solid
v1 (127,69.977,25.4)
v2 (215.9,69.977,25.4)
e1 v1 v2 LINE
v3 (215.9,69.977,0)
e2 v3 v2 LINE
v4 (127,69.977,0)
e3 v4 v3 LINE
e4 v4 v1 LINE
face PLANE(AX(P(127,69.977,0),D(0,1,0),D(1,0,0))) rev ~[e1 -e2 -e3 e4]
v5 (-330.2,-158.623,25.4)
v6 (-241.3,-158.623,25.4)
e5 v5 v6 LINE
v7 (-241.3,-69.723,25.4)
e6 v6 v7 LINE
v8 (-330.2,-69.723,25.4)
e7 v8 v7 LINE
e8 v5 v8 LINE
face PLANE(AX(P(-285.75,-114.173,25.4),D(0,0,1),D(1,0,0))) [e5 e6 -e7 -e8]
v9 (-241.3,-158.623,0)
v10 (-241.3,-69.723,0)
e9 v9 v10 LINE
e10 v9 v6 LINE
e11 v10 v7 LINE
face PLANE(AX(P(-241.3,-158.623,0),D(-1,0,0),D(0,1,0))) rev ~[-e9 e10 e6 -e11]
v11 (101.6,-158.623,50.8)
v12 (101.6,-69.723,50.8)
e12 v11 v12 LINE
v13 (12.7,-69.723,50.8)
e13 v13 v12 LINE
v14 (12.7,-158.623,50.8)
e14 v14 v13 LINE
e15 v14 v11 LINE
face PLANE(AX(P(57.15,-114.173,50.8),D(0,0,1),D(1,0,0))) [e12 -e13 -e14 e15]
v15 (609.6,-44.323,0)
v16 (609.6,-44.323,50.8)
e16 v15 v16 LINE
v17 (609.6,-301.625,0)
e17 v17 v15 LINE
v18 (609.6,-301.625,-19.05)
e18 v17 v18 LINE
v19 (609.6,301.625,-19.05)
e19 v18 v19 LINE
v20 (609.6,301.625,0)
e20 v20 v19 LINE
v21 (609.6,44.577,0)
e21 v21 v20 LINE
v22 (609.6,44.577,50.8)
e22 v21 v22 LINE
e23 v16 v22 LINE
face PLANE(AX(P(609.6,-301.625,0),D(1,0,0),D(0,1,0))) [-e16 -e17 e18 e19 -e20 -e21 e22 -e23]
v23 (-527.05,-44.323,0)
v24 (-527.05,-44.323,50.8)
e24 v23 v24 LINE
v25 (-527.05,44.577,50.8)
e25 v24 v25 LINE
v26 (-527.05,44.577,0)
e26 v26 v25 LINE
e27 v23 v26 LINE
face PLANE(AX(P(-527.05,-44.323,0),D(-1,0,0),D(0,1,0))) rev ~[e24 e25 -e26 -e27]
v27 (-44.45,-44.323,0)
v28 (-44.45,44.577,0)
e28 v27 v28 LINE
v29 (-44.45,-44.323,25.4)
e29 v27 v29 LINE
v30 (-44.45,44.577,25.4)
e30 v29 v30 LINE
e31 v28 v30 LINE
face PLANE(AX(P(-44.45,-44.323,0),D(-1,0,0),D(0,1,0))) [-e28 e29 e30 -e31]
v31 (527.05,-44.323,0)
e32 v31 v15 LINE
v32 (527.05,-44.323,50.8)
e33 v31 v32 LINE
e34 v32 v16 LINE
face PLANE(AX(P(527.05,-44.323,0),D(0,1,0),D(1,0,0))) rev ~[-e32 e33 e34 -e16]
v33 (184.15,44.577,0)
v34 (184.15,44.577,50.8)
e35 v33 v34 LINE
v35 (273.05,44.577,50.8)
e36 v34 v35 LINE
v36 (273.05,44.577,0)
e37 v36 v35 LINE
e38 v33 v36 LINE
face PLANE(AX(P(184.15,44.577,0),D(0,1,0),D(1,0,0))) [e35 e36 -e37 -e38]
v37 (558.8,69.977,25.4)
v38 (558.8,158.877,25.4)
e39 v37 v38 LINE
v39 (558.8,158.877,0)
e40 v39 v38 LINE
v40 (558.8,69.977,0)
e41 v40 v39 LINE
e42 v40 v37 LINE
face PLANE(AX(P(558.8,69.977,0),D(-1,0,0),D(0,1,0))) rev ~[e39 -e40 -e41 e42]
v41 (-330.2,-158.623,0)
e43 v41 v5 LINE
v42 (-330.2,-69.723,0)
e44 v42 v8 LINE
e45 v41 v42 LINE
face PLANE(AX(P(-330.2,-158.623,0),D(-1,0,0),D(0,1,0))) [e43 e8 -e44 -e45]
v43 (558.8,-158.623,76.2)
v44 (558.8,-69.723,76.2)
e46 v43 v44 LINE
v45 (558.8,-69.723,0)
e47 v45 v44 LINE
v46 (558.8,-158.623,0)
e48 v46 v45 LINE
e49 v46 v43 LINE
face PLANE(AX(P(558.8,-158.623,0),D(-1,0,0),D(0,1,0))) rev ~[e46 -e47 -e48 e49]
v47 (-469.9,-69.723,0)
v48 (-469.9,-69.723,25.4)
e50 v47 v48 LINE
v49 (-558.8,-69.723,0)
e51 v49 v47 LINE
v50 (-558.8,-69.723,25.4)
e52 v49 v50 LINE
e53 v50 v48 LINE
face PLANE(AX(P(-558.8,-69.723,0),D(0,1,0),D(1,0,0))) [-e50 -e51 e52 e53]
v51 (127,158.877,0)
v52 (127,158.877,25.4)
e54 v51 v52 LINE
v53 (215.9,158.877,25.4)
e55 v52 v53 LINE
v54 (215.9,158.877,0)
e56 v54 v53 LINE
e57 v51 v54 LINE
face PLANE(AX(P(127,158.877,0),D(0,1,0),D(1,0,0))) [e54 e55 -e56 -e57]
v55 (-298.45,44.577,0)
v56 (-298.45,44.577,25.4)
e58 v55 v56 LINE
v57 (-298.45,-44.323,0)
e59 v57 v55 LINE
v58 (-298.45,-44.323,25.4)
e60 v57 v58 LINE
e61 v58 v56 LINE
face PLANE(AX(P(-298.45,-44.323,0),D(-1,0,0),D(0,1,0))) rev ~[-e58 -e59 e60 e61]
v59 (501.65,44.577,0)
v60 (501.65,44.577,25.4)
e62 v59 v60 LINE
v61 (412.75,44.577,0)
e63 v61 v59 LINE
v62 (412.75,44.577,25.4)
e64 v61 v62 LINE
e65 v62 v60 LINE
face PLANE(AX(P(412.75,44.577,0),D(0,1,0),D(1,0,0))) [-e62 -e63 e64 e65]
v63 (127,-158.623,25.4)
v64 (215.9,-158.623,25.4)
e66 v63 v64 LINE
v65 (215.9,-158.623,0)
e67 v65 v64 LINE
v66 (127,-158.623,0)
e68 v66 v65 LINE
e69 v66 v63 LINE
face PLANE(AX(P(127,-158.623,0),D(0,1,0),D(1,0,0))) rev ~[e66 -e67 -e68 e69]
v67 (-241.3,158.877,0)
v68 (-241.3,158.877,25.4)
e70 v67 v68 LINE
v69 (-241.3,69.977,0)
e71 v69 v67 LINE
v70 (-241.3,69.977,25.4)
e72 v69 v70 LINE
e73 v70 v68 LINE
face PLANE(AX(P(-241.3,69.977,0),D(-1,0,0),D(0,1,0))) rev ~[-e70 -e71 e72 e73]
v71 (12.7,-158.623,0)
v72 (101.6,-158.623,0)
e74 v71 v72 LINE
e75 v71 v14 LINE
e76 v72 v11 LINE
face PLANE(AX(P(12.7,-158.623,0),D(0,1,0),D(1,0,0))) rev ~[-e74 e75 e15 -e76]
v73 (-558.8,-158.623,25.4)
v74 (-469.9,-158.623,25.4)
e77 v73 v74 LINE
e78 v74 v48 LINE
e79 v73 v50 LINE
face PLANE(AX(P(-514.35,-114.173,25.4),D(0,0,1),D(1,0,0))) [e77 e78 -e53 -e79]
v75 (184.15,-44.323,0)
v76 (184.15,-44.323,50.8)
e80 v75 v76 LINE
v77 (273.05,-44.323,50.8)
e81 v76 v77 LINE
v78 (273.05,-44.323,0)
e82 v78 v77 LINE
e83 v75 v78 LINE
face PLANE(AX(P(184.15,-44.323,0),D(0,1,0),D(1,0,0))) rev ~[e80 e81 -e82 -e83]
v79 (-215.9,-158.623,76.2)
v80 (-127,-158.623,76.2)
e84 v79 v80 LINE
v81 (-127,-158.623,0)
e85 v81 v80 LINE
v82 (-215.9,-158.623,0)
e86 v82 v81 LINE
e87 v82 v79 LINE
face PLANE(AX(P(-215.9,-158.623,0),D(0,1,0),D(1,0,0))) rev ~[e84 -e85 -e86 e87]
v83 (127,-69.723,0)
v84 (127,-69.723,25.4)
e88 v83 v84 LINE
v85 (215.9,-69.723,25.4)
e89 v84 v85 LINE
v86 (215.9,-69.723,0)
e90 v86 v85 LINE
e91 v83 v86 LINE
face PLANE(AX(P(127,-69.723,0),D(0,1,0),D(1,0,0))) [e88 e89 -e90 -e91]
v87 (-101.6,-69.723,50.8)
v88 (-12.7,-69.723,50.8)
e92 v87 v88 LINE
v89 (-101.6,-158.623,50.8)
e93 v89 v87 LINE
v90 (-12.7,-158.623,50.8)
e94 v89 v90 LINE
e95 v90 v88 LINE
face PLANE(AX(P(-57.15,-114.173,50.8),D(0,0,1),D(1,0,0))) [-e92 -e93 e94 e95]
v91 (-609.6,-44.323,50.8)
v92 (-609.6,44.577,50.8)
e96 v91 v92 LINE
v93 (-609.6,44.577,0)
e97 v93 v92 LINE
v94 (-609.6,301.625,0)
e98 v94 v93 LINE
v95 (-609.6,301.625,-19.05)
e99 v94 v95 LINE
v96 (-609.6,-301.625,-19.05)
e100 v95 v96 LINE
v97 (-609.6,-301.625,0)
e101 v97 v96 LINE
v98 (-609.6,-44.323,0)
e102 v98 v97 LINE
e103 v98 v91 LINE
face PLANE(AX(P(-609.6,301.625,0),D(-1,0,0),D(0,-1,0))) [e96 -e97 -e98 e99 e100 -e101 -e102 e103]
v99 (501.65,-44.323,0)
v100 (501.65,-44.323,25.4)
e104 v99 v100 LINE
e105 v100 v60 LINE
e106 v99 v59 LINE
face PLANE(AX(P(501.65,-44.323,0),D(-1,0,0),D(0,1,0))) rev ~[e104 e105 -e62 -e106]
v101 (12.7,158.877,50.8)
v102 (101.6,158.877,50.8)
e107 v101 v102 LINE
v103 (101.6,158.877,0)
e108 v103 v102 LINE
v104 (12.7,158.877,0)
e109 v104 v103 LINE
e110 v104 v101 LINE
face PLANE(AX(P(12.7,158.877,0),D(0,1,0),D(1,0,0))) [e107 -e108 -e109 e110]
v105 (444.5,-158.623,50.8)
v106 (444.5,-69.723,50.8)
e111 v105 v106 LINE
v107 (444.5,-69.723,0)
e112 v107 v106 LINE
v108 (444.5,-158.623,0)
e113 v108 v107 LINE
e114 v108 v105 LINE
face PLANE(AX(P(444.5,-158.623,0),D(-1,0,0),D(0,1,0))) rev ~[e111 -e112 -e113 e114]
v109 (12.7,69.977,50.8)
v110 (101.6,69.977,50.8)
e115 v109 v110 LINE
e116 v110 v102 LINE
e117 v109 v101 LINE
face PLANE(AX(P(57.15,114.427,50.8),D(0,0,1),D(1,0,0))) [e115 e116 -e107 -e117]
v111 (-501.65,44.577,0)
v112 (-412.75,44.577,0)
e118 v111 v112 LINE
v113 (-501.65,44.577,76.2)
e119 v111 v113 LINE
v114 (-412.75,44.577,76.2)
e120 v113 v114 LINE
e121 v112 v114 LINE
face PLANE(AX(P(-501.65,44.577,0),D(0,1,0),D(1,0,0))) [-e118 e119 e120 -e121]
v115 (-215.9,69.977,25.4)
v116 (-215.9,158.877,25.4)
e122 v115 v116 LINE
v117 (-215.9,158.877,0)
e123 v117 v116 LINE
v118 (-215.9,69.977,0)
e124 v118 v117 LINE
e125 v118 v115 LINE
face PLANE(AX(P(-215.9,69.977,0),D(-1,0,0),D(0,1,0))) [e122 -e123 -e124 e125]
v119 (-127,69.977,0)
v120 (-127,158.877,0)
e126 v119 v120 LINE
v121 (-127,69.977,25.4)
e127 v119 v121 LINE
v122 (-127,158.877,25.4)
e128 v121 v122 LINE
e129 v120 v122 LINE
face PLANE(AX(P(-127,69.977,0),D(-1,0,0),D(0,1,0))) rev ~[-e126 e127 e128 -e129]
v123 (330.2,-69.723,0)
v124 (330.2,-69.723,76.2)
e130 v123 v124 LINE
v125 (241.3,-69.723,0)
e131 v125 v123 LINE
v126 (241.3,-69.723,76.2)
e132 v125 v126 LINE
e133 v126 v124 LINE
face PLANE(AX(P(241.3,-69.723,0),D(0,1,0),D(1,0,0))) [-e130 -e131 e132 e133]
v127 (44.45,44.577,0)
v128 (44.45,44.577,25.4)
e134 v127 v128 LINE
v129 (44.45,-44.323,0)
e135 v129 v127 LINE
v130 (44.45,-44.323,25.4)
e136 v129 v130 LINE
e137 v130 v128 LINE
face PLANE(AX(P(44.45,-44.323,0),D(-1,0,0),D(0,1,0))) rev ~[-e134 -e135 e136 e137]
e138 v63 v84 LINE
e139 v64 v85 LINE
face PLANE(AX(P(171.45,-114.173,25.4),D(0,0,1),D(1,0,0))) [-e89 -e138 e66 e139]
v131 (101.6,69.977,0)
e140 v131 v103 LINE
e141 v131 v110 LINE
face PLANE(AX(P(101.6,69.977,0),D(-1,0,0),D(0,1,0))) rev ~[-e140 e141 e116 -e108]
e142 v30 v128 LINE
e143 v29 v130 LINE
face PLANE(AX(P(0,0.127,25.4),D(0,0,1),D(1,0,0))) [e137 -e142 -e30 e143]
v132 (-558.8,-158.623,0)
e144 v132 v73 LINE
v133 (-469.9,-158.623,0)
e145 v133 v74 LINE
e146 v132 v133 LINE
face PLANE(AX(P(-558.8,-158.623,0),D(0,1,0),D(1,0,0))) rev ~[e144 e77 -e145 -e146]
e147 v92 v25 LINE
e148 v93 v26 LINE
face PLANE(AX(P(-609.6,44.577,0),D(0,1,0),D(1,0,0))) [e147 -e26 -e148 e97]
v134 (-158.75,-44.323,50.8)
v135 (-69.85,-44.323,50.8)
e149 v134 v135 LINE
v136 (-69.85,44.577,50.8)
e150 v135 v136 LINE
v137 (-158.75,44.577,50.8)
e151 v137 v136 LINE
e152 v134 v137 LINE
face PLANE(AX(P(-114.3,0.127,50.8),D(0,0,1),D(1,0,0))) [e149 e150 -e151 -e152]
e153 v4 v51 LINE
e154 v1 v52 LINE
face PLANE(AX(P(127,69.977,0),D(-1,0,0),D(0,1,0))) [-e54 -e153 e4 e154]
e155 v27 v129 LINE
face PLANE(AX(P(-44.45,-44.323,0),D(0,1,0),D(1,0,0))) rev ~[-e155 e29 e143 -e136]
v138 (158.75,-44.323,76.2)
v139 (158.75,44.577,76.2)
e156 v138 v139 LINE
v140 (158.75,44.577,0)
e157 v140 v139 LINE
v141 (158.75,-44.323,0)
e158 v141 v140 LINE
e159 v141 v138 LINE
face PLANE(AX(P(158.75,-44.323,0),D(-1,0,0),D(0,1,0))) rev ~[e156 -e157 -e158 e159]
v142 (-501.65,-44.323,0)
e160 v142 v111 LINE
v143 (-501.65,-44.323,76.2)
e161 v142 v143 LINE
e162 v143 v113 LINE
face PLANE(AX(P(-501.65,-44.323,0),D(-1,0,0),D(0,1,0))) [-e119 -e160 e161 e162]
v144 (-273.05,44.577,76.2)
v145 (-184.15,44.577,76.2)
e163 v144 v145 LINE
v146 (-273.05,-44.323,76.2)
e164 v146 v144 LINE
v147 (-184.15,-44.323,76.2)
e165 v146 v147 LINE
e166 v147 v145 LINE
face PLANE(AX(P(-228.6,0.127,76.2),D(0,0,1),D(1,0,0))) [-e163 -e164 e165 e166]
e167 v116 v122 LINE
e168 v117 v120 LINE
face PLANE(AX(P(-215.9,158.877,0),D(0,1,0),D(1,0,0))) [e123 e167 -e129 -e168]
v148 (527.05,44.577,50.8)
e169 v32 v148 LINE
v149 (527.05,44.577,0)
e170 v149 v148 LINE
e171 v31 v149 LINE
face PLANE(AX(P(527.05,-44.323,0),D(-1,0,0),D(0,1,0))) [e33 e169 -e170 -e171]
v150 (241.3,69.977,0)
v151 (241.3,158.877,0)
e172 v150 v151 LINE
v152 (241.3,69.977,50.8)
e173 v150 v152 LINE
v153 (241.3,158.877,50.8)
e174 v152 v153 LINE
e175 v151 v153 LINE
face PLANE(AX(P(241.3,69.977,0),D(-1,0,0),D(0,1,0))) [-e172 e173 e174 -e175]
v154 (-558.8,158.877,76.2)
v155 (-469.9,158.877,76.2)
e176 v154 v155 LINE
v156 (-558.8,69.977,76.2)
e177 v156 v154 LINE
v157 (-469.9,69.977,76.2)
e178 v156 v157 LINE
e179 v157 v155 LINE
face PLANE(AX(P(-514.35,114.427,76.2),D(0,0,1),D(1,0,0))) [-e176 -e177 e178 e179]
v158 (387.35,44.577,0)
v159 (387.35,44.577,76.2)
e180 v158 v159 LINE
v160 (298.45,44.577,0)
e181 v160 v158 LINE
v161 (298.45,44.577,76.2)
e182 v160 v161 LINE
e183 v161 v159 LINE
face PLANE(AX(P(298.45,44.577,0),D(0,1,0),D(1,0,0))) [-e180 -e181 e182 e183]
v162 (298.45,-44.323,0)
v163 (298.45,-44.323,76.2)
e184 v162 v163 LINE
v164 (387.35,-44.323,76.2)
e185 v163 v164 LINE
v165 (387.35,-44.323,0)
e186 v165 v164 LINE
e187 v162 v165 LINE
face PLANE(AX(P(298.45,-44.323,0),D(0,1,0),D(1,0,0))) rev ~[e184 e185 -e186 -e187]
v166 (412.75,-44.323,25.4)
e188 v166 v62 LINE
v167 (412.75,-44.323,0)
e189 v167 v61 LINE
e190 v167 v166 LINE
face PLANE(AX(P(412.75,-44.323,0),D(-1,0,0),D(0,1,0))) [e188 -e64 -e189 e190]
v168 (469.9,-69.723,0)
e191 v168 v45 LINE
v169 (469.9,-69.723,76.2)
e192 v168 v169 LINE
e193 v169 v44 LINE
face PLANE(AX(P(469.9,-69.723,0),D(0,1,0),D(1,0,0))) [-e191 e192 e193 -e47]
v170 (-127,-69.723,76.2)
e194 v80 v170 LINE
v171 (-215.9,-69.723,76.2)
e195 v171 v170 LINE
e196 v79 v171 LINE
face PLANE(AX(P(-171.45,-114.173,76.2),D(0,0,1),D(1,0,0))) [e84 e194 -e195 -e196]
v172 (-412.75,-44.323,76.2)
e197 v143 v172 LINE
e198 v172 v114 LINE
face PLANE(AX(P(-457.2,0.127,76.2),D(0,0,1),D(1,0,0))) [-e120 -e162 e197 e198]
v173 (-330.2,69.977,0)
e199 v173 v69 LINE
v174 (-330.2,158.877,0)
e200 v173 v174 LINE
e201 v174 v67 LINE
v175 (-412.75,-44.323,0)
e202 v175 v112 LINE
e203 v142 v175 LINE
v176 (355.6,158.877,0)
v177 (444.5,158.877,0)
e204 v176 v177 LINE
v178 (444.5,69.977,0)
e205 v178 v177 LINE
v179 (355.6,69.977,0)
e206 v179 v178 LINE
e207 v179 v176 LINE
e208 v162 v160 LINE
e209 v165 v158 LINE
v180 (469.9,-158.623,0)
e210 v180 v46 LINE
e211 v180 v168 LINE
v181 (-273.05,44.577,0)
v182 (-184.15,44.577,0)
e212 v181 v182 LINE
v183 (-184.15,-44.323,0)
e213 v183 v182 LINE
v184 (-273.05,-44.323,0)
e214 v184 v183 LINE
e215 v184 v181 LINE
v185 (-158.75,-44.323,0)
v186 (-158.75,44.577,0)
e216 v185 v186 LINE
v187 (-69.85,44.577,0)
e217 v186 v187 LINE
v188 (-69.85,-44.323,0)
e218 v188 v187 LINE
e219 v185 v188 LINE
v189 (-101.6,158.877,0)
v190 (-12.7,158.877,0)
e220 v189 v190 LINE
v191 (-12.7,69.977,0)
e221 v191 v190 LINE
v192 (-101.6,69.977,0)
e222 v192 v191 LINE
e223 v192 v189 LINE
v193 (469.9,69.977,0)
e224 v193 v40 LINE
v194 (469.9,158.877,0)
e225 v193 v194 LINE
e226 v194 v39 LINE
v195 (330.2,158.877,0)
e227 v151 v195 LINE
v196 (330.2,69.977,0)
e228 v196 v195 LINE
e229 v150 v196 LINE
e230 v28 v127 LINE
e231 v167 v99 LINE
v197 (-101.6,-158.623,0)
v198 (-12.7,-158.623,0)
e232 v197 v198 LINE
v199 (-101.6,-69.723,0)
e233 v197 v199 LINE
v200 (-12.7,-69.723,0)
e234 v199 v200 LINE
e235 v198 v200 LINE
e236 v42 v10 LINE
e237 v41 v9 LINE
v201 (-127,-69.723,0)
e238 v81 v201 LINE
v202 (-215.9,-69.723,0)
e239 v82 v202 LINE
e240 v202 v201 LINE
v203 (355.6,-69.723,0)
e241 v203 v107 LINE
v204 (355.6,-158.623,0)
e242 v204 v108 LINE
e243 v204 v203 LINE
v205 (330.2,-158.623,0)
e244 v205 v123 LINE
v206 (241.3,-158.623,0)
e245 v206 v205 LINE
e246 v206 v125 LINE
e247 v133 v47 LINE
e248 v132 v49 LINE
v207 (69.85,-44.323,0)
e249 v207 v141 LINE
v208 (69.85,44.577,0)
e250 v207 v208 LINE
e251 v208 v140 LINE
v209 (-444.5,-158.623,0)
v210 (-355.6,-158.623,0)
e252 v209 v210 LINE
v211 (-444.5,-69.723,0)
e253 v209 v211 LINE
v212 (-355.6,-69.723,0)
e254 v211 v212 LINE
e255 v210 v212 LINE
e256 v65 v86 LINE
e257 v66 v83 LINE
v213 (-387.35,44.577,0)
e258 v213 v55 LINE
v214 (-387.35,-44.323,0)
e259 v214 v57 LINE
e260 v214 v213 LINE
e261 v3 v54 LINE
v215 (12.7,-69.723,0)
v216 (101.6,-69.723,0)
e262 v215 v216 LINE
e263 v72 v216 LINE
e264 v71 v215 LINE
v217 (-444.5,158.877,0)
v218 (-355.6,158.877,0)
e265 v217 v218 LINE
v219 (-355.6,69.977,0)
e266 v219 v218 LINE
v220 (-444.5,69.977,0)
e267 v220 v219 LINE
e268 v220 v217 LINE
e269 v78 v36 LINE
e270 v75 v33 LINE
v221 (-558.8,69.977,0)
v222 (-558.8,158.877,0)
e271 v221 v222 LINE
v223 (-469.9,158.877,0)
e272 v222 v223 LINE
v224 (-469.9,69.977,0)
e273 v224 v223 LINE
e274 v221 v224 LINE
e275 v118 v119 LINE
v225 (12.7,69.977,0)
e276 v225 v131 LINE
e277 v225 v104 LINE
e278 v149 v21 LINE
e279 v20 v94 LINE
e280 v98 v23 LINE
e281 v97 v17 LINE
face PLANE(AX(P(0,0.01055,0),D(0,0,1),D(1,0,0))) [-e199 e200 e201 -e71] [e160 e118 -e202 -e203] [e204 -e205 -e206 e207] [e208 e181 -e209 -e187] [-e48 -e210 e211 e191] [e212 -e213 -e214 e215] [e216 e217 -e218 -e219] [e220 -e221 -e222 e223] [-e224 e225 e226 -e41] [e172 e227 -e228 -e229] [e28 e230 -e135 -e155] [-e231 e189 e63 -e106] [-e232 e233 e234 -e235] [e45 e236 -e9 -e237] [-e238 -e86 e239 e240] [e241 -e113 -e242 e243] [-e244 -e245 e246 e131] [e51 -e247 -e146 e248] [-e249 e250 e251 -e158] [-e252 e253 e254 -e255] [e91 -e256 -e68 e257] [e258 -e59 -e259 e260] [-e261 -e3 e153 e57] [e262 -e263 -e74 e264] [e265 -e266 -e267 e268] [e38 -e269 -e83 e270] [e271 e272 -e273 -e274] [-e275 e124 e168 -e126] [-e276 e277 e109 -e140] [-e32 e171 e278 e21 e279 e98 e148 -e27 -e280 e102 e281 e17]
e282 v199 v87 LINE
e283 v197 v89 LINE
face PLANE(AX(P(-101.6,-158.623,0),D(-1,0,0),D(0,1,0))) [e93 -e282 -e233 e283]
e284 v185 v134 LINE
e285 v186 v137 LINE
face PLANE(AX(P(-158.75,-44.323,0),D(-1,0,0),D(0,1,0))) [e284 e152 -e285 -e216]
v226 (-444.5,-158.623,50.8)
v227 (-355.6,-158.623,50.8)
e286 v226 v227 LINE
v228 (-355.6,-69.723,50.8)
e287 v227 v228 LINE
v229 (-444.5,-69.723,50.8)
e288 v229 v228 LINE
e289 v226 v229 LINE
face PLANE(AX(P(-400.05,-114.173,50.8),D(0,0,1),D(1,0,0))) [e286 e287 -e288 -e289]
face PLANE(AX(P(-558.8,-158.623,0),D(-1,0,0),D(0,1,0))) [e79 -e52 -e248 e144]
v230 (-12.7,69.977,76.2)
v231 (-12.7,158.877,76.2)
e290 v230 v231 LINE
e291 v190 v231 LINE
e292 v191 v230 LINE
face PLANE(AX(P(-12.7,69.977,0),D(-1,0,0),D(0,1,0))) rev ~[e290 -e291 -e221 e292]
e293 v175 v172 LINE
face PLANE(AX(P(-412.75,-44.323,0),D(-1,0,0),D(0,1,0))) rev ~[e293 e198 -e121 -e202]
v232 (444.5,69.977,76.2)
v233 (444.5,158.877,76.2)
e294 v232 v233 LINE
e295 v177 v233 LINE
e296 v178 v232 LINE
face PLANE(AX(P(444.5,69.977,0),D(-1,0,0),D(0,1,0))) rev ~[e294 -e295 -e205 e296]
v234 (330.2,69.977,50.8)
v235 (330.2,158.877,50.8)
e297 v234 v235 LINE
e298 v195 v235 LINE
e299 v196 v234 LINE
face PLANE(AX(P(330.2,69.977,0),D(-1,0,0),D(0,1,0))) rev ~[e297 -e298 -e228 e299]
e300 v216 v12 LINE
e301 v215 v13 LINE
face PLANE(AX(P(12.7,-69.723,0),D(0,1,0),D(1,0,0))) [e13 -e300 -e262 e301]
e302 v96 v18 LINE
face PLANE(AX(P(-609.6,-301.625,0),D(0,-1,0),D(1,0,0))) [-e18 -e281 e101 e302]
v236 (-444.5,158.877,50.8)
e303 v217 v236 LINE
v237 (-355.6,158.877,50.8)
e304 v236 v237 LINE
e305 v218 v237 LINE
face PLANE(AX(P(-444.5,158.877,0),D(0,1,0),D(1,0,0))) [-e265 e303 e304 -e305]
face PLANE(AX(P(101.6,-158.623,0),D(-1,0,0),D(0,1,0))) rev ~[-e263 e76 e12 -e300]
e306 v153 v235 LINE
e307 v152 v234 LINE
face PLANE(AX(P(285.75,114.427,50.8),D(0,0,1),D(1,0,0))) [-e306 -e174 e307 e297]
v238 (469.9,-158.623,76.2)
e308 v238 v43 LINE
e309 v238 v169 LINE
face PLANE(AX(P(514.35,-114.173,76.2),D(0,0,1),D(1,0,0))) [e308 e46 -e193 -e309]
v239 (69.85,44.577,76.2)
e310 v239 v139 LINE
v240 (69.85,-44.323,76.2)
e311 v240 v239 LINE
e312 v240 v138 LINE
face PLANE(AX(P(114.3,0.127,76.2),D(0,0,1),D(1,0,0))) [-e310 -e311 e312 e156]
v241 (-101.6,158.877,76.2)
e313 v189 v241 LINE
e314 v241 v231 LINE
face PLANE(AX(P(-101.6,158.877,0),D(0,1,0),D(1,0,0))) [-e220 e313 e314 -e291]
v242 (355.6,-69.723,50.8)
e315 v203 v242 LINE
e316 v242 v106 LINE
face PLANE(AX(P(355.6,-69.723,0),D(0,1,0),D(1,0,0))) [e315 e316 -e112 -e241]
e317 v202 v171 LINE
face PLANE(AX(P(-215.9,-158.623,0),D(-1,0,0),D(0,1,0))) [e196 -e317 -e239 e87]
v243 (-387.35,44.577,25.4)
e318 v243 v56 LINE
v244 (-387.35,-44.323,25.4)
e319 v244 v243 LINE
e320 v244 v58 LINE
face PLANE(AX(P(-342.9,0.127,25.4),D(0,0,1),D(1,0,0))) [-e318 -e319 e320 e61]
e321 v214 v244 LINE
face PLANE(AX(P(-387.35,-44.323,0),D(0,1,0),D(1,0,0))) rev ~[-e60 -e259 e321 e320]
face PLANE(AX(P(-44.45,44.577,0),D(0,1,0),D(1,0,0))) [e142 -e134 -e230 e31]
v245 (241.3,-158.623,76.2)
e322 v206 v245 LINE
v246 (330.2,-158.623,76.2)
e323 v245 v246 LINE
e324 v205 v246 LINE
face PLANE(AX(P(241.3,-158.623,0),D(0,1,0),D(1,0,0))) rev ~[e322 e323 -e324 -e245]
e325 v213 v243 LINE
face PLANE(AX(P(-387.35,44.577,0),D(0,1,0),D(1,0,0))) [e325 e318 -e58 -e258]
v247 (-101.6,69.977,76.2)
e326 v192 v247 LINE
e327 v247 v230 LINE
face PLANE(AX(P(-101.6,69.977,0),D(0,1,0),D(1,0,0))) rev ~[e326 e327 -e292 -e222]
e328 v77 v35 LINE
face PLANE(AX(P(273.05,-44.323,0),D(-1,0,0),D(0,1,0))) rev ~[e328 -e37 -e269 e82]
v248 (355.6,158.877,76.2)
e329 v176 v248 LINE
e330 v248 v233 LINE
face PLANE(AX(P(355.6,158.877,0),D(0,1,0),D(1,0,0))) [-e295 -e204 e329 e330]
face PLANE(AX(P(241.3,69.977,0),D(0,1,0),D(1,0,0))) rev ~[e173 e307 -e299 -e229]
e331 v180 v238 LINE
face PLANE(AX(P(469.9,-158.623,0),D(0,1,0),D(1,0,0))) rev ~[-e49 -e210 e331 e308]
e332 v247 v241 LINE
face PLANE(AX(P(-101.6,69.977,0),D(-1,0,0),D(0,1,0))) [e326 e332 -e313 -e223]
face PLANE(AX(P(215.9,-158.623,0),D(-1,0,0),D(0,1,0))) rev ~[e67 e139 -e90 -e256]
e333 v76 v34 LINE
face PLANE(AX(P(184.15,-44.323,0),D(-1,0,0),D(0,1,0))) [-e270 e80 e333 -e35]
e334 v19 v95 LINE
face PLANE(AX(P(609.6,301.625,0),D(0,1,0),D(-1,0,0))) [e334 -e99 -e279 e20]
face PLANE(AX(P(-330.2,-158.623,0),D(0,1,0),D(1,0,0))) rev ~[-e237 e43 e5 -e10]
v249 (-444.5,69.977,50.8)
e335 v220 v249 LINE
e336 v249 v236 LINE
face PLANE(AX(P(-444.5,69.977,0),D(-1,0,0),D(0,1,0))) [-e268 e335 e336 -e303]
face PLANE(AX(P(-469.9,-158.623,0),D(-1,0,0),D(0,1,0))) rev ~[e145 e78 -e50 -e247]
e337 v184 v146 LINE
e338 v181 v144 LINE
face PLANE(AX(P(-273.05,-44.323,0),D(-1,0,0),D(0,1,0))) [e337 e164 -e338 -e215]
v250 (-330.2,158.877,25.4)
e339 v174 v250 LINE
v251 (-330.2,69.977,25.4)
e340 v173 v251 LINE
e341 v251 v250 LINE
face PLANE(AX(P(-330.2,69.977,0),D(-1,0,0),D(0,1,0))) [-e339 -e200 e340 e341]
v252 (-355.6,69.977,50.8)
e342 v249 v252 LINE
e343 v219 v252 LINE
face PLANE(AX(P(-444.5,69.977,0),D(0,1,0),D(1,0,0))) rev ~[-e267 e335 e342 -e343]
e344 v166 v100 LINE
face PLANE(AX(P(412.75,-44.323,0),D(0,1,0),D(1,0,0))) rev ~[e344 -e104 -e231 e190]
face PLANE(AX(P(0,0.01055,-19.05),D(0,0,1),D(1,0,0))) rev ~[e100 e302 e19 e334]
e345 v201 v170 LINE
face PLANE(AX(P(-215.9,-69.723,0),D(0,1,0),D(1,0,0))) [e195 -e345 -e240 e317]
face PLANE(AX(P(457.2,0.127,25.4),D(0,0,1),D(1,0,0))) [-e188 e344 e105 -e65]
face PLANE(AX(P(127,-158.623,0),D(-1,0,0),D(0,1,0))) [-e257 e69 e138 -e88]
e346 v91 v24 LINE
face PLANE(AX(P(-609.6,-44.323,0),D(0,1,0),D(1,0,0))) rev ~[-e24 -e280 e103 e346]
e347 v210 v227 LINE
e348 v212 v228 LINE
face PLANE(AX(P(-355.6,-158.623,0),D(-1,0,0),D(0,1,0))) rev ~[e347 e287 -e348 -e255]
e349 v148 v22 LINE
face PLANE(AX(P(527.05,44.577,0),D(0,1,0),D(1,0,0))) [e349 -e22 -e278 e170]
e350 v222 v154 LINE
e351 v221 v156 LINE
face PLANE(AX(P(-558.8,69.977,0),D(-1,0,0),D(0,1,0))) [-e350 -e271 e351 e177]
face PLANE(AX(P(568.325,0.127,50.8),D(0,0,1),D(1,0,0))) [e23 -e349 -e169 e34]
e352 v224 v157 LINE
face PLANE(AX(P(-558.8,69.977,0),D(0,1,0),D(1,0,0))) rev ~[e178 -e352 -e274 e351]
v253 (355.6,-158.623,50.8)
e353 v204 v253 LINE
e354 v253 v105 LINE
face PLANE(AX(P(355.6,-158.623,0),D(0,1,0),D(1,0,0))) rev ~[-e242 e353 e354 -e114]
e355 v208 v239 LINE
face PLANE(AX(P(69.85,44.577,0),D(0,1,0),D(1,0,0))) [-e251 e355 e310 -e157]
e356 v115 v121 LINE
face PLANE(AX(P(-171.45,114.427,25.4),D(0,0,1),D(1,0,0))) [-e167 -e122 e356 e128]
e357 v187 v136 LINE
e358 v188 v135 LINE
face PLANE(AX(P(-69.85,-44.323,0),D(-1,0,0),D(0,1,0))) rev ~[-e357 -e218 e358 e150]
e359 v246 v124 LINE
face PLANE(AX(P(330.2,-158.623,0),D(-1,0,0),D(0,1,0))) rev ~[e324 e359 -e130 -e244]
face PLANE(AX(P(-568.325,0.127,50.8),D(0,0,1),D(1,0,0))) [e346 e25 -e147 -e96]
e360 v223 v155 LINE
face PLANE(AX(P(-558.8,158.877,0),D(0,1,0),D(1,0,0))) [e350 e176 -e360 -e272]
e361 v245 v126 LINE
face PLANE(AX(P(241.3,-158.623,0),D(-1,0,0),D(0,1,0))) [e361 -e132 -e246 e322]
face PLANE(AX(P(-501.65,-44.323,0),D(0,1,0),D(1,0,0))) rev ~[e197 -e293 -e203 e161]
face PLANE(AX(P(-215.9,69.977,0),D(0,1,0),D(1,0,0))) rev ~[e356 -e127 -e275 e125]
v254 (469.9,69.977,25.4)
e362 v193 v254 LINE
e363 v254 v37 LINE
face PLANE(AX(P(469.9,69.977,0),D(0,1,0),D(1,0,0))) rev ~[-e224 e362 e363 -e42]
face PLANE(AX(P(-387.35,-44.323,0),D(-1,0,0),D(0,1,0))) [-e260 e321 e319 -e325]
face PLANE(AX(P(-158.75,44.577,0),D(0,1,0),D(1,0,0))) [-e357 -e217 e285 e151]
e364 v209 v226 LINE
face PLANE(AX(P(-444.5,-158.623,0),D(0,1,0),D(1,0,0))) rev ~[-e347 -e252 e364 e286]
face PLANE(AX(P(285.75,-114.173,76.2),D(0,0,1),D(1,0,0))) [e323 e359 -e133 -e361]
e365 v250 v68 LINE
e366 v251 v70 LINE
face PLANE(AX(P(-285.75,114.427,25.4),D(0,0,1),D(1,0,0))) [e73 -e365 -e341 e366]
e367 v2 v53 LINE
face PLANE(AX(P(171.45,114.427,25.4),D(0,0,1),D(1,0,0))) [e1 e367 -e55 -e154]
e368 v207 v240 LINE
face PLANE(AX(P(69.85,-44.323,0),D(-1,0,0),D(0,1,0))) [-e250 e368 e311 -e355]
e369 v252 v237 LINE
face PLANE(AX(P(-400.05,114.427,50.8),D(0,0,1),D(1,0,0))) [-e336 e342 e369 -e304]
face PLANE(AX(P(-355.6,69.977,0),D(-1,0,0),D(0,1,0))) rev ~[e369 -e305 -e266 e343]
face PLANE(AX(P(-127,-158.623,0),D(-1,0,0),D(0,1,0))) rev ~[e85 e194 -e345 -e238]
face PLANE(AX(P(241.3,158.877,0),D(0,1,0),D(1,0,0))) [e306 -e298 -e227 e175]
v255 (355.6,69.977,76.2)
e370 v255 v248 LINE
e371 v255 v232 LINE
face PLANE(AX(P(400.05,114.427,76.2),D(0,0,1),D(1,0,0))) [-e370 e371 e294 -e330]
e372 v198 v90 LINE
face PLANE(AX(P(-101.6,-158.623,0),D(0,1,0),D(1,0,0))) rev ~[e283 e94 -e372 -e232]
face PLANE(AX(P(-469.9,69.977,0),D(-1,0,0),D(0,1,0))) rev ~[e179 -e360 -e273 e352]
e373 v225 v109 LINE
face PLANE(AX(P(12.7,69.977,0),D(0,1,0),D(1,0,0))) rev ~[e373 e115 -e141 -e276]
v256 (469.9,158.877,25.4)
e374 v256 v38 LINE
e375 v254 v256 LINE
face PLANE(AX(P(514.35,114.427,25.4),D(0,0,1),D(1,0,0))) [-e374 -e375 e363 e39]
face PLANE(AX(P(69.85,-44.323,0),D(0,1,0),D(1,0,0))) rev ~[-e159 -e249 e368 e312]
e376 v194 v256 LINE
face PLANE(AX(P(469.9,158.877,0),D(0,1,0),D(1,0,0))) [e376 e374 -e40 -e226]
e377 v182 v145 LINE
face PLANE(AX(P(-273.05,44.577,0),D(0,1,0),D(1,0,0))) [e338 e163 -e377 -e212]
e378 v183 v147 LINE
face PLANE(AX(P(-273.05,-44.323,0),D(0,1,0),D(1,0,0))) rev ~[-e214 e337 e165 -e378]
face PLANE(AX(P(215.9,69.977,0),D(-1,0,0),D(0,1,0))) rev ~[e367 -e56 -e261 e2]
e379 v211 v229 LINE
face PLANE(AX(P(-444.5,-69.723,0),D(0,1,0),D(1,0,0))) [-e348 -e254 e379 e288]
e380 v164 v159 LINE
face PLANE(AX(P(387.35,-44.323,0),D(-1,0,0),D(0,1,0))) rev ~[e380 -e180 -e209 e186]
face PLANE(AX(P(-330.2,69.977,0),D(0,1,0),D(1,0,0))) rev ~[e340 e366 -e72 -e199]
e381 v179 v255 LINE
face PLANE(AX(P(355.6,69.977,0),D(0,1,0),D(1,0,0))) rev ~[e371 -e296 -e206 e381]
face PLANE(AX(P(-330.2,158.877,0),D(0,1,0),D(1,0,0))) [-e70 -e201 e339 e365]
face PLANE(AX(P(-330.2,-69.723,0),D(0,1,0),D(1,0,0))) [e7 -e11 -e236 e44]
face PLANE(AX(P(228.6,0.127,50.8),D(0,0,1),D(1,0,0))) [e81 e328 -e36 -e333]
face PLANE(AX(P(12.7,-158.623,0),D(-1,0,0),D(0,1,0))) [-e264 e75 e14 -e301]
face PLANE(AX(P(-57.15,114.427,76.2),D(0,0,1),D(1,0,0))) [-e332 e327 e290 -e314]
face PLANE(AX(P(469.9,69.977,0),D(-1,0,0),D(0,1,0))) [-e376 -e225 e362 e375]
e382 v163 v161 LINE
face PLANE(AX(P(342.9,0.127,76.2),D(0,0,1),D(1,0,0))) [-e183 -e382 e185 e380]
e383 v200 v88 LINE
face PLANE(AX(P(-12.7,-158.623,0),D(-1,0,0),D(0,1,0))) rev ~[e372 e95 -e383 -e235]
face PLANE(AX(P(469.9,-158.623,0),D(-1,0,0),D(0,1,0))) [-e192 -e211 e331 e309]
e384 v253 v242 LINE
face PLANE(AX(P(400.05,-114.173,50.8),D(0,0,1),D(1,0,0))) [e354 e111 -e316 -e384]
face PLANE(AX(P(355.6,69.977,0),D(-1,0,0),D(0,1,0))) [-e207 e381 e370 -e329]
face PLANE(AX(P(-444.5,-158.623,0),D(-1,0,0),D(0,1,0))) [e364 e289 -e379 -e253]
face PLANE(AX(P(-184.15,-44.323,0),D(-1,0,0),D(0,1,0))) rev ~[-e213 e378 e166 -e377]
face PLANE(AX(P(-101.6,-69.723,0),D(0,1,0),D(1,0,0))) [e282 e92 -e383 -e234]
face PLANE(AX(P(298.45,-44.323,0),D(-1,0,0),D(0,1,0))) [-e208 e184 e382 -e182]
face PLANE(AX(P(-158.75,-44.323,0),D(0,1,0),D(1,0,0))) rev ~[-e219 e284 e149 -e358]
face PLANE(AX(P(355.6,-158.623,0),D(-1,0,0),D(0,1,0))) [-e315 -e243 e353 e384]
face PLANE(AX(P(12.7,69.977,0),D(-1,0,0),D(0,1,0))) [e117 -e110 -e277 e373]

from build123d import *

# Parameters (mm, degrees)
F0_W     = 88.9
F0_H     = 88.9
F0_W_2   = 82.55
F1_DEPTH = 19.05
F2_DEPTH = 25.4
F3_DEPTH = 76.2
F4_DEPTH = 50.8


with BuildPart() as f1:
    # F0 (on Top) → F1 (new body)
    with BuildSketch(Plane.XY):
        Polygon((609.6, 301.625), (-609.6, 301.625), (-609.6, 44.577), (-527.05, 44.577), (-527.05, -44.323), (-609.6, -44.323), (-609.6, -301.625), (609.6, -301.625), (609.6, -44.323), (527.05, -44.323), (527.05, 44.577), (609.6, 44.577), align=None)
        with Locations((-514.35, -114.173)):
            Rectangle(F0_W, F0_H, mode=Mode.SUBTRACT)
        with Locations((-400.05, -114.173)):
            Rectangle(F0_W, F0_H, mode=Mode.SUBTRACT)
        with Locations((-285.75, -114.173)):
            Rectangle(F0_W, F0_H, mode=Mode.SUBTRACT)
        with Locations((-171.45, -114.173)):
            Rectangle(F0_W, F0_H, mode=Mode.SUBTRACT)
        with Locations((-57.15, -114.173)):
            Rectangle(F0_W, F0_H, mode=Mode.SUBTRACT)
        with Locations((57.15, -114.173)):
            Rectangle(F0_W, F0_H, mode=Mode.SUBTRACT)
        with Locations((171.45, -114.173)):
            Rectangle(F0_W, F0_H, mode=Mode.SUBTRACT)
        with Locations((285.75, -114.173)):
            Rectangle(F0_W, F0_H, mode=Mode.SUBTRACT)
        with Locations((400.05, -114.173)):
            Rectangle(F0_W, F0_H, mode=Mode.SUBTRACT)
        with Locations((514.35, -114.173)):
            Rectangle(F0_W, F0_H, mode=Mode.SUBTRACT)
        with Locations((-457.2, 0.127)):
            Rectangle(F0_W, F0_H, mode=Mode.SUBTRACT)
        with Locations((-342.9, 0.127)):
            Rectangle(F0_W, F0_H, mode=Mode.SUBTRACT)
        with Locations((-514.35, 114.427)):
            Rectangle(F0_W, F0_H, mode=Mode.SUBTRACT)
        with Locations((-400.05, 114.427)):
            Rectangle(F0_W, F0_H, mode=Mode.SUBTRACT)
        with Locations((-228.6, 0.127)):
            Rectangle(F0_W, F0_H, mode=Mode.SUBTRACT)
        with Locations((-114.3, 0.127)):
            Rectangle(F0_W, F0_H, mode=Mode.SUBTRACT)
        with Locations((-285.75, 114.427)):
            Rectangle(F0_W, F0_H, mode=Mode.SUBTRACT)
        with Locations((-171.45, 114.427)):
            Rectangle(F0_W, F0_H, mode=Mode.SUBTRACT)
        with Locations((-57.15, 114.427)):
            Rectangle(F0_W, F0_H, mode=Mode.SUBTRACT)
        with Locations((0, 0.127)):
            Rectangle(F0_W, F0_H, mode=Mode.SUBTRACT)
        with Locations((114.3, 0.127)):
            Rectangle(F0_W, F0_H, mode=Mode.SUBTRACT)
        with Locations((228.6, 0.127)):
            Rectangle(F0_W, F0_H, mode=Mode.SUBTRACT)
        with Locations((57.15, 114.427)):
            Rectangle(F0_W, F0_H, mode=Mode.SUBTRACT)
        with Locations((171.45, 114.427)):
            Rectangle(F0_W, F0_H, mode=Mode.SUBTRACT)
        with Locations((285.75, 114.427)):
            Rectangle(F0_W, F0_H, mode=Mode.SUBTRACT)
        with Locations((342.9, 0.127)):
            Rectangle(F0_W, F0_H, mode=Mode.SUBTRACT)
        with Locations((457.2, 0.127)):
            Rectangle(F0_W, F0_H, mode=Mode.SUBTRACT)
        with Locations((400.05, 114.427)):
            Rectangle(F0_W, F0_H, mode=Mode.SUBTRACT)
        with Locations((514.35, 114.427)):
            Rectangle(F0_W, F0_H, mode=Mode.SUBTRACT)
        with Locations((-400.05, -114.173)):
            Rectangle(F0_W, F0_H)
        with Locations((-514.35, -114.173)):
            Rectangle(F0_W, F0_H)
        with Locations((-457.2, 0.127)):
            Rectangle(F0_W, F0_H)
        with Locations((-514.35, 114.427)):
            Rectangle(F0_W, F0_H)
        with Locations((-400.05, 114.427)):
            Rectangle(F0_W, F0_H)
        with Locations((-342.9, 0.127)):
            Rectangle(F0_W, F0_H)
        with Locations((-285.75, -114.173)):
            Rectangle(F0_W, F0_H)
        with Locations((-171.45, -114.173)):
            Rectangle(F0_W, F0_H)
        with Locations((-228.6, 0.127)):
            Rectangle(F0_W, F0_H)
        with Locations((-285.75, 114.427)):
            Rectangle(F0_W, F0_H)
        with Locations((-171.45, 114.427)):
            Rectangle(F0_W, F0_H)
        with Locations((-114.3, 0.127)):
            Rectangle(F0_W, F0_H)
        with Locations((-57.15, -114.173)):
            Rectangle(F0_W, F0_H)
        with Locations((57.15, -114.173)):
            Rectangle(F0_W, F0_H)
        with Locations((0, 0.127)):
            Rectangle(F0_W, F0_H)
        with Locations((-57.15, 114.427)):
            Rectangle(F0_W, F0_H)
        with Locations((57.15, 114.427)):
            Rectangle(F0_W, F0_H)
        with Locations((114.3, 0.127)):
            Rectangle(F0_W, F0_H)
        with Locations((171.45, -114.173)):
            Rectangle(F0_W, F0_H)
        with Locations((285.75, -114.173)):
            Rectangle(F0_W, F0_H)
        with Locations((228.6, 0.127)):
            Rectangle(F0_W, F0_H)
        with Locations((171.45, 114.427)):
            Rectangle(F0_W, F0_H)
        with Locations((342.9, 0.127)):
            Rectangle(F0_W, F0_H)
        with Locations((400.05, -114.173)):
            Rectangle(F0_W, F0_H)
        with Locations((285.75, 114.427)):
            Rectangle(F0_W, F0_H)
        with Locations((400.05, 114.427)):
            Rectangle(F0_W, F0_H)
        with Locations((457.2, 0.127)):
            Rectangle(F0_W, F0_H)
        with Locations((514.35, -114.173)):
            Rectangle(F0_W, F0_H)
        with Locations((514.35, 114.427)):
            Rectangle(F0_W, F0_H)
        with Locations((-568.325, 0.127)):
            Rectangle(F0_W_2, F0_H)
        with Locations((568.325, 0.127)):
            Rectangle(F0_W_2, F0_H)
    extrude(amount=-F1_DEPTH)

    # F0 (on Top) → F2 (join)
    with BuildSketch(Plane.XY):
        with Locations((514.35, 114.427)):
            Rectangle(F0_W, F0_H)
        with Locations((457.2, 0.127)):
            Rectangle(F0_W, F0_H)
        with Locations((171.45, -114.173)):
            Rectangle(F0_W, F0_H)
        with Locations((-514.35, -114.173)):
            Rectangle(F0_W, F0_H)
        with Locations((-342.9, 0.127)):
            Rectangle(F0_W, F0_H)
        with Locations((-285.75, -114.173)):
            Rectangle(F0_W, F0_H)
        with Locations((0, 0.127)):
            Rectangle(F0_W, F0_H)
        with Locations((171.45, 114.427)):
            Rectangle(F0_W, F0_H)
        with Locations((-285.75, 114.427)):
            Rectangle(F0_W, F0_H)
        with Locations((-171.45, 114.427)):
            Rectangle(F0_W, F0_H)
    extrude(amount=F2_DEPTH)

    # F0 (on Top) → F3 (join)
    with BuildSketch(Plane.XY):
        with Locations((514.35, -114.173)):
            Rectangle(F0_W, F0_H)
        with Locations((400.05, 114.427)):
            Rectangle(F0_W, F0_H)
        with Locations((342.9, 0.127)):
            Rectangle(F0_W, F0_H)
        with Locations((114.3, 0.127)):
            Rectangle(F0_W, F0_H)
        with Locations((-228.6, 0.127)):
            Rectangle(F0_W, F0_H)
        with Locations((-457.2, 0.127)):
            Rectangle(F0_W, F0_H)
        with Locations((285.75, -114.173)):
            Rectangle(F0_W, F0_H)
        with Locations((-171.45, -114.173)):
            Rectangle(F0_W, F0_H)
        with Locations((-514.35, 114.427)):
            Rectangle(F0_W, F0_H)
        with Locations((-57.15, 114.427)):
            Rectangle(F0_W, F0_H)
    extrude(amount=F3_DEPTH)

    # F0 (on Top) → F4 (join)
    with BuildSketch(Plane.XY):
        with Locations((-568.325, 0.127)):
            Rectangle(F0_W_2, F0_H)
        with Locations((-400.05, -114.173)):
            Rectangle(F0_W, F0_H)
        with Locations((-400.05, 114.427)):
            Rectangle(F0_W, F0_H)
        with Locations((57.15, 114.427)):
            Rectangle(F0_W, F0_H)
        with Locations((-114.3, 0.127)):
            Rectangle(F0_W, F0_H)
        with Locations((-57.15, -114.173)):
            Rectangle(F0_W, F0_H)
        with Locations((57.15, -114.173)):
            Rectangle(F0_W, F0_H)
        with Locations((228.6, 0.127)):
            Rectangle(F0_W, F0_H)
        with Locations((285.75, 114.427)):
            Rectangle(F0_W, F0_H)
        with Locations((400.05, -114.173)):
            Rectangle(F0_W, F0_H)
        with Locations((568.325, 0.127)):
            Rectangle(F0_W_2, F0_H)
    extrude(amount=F4_DEPTH)


solid = f1.part
